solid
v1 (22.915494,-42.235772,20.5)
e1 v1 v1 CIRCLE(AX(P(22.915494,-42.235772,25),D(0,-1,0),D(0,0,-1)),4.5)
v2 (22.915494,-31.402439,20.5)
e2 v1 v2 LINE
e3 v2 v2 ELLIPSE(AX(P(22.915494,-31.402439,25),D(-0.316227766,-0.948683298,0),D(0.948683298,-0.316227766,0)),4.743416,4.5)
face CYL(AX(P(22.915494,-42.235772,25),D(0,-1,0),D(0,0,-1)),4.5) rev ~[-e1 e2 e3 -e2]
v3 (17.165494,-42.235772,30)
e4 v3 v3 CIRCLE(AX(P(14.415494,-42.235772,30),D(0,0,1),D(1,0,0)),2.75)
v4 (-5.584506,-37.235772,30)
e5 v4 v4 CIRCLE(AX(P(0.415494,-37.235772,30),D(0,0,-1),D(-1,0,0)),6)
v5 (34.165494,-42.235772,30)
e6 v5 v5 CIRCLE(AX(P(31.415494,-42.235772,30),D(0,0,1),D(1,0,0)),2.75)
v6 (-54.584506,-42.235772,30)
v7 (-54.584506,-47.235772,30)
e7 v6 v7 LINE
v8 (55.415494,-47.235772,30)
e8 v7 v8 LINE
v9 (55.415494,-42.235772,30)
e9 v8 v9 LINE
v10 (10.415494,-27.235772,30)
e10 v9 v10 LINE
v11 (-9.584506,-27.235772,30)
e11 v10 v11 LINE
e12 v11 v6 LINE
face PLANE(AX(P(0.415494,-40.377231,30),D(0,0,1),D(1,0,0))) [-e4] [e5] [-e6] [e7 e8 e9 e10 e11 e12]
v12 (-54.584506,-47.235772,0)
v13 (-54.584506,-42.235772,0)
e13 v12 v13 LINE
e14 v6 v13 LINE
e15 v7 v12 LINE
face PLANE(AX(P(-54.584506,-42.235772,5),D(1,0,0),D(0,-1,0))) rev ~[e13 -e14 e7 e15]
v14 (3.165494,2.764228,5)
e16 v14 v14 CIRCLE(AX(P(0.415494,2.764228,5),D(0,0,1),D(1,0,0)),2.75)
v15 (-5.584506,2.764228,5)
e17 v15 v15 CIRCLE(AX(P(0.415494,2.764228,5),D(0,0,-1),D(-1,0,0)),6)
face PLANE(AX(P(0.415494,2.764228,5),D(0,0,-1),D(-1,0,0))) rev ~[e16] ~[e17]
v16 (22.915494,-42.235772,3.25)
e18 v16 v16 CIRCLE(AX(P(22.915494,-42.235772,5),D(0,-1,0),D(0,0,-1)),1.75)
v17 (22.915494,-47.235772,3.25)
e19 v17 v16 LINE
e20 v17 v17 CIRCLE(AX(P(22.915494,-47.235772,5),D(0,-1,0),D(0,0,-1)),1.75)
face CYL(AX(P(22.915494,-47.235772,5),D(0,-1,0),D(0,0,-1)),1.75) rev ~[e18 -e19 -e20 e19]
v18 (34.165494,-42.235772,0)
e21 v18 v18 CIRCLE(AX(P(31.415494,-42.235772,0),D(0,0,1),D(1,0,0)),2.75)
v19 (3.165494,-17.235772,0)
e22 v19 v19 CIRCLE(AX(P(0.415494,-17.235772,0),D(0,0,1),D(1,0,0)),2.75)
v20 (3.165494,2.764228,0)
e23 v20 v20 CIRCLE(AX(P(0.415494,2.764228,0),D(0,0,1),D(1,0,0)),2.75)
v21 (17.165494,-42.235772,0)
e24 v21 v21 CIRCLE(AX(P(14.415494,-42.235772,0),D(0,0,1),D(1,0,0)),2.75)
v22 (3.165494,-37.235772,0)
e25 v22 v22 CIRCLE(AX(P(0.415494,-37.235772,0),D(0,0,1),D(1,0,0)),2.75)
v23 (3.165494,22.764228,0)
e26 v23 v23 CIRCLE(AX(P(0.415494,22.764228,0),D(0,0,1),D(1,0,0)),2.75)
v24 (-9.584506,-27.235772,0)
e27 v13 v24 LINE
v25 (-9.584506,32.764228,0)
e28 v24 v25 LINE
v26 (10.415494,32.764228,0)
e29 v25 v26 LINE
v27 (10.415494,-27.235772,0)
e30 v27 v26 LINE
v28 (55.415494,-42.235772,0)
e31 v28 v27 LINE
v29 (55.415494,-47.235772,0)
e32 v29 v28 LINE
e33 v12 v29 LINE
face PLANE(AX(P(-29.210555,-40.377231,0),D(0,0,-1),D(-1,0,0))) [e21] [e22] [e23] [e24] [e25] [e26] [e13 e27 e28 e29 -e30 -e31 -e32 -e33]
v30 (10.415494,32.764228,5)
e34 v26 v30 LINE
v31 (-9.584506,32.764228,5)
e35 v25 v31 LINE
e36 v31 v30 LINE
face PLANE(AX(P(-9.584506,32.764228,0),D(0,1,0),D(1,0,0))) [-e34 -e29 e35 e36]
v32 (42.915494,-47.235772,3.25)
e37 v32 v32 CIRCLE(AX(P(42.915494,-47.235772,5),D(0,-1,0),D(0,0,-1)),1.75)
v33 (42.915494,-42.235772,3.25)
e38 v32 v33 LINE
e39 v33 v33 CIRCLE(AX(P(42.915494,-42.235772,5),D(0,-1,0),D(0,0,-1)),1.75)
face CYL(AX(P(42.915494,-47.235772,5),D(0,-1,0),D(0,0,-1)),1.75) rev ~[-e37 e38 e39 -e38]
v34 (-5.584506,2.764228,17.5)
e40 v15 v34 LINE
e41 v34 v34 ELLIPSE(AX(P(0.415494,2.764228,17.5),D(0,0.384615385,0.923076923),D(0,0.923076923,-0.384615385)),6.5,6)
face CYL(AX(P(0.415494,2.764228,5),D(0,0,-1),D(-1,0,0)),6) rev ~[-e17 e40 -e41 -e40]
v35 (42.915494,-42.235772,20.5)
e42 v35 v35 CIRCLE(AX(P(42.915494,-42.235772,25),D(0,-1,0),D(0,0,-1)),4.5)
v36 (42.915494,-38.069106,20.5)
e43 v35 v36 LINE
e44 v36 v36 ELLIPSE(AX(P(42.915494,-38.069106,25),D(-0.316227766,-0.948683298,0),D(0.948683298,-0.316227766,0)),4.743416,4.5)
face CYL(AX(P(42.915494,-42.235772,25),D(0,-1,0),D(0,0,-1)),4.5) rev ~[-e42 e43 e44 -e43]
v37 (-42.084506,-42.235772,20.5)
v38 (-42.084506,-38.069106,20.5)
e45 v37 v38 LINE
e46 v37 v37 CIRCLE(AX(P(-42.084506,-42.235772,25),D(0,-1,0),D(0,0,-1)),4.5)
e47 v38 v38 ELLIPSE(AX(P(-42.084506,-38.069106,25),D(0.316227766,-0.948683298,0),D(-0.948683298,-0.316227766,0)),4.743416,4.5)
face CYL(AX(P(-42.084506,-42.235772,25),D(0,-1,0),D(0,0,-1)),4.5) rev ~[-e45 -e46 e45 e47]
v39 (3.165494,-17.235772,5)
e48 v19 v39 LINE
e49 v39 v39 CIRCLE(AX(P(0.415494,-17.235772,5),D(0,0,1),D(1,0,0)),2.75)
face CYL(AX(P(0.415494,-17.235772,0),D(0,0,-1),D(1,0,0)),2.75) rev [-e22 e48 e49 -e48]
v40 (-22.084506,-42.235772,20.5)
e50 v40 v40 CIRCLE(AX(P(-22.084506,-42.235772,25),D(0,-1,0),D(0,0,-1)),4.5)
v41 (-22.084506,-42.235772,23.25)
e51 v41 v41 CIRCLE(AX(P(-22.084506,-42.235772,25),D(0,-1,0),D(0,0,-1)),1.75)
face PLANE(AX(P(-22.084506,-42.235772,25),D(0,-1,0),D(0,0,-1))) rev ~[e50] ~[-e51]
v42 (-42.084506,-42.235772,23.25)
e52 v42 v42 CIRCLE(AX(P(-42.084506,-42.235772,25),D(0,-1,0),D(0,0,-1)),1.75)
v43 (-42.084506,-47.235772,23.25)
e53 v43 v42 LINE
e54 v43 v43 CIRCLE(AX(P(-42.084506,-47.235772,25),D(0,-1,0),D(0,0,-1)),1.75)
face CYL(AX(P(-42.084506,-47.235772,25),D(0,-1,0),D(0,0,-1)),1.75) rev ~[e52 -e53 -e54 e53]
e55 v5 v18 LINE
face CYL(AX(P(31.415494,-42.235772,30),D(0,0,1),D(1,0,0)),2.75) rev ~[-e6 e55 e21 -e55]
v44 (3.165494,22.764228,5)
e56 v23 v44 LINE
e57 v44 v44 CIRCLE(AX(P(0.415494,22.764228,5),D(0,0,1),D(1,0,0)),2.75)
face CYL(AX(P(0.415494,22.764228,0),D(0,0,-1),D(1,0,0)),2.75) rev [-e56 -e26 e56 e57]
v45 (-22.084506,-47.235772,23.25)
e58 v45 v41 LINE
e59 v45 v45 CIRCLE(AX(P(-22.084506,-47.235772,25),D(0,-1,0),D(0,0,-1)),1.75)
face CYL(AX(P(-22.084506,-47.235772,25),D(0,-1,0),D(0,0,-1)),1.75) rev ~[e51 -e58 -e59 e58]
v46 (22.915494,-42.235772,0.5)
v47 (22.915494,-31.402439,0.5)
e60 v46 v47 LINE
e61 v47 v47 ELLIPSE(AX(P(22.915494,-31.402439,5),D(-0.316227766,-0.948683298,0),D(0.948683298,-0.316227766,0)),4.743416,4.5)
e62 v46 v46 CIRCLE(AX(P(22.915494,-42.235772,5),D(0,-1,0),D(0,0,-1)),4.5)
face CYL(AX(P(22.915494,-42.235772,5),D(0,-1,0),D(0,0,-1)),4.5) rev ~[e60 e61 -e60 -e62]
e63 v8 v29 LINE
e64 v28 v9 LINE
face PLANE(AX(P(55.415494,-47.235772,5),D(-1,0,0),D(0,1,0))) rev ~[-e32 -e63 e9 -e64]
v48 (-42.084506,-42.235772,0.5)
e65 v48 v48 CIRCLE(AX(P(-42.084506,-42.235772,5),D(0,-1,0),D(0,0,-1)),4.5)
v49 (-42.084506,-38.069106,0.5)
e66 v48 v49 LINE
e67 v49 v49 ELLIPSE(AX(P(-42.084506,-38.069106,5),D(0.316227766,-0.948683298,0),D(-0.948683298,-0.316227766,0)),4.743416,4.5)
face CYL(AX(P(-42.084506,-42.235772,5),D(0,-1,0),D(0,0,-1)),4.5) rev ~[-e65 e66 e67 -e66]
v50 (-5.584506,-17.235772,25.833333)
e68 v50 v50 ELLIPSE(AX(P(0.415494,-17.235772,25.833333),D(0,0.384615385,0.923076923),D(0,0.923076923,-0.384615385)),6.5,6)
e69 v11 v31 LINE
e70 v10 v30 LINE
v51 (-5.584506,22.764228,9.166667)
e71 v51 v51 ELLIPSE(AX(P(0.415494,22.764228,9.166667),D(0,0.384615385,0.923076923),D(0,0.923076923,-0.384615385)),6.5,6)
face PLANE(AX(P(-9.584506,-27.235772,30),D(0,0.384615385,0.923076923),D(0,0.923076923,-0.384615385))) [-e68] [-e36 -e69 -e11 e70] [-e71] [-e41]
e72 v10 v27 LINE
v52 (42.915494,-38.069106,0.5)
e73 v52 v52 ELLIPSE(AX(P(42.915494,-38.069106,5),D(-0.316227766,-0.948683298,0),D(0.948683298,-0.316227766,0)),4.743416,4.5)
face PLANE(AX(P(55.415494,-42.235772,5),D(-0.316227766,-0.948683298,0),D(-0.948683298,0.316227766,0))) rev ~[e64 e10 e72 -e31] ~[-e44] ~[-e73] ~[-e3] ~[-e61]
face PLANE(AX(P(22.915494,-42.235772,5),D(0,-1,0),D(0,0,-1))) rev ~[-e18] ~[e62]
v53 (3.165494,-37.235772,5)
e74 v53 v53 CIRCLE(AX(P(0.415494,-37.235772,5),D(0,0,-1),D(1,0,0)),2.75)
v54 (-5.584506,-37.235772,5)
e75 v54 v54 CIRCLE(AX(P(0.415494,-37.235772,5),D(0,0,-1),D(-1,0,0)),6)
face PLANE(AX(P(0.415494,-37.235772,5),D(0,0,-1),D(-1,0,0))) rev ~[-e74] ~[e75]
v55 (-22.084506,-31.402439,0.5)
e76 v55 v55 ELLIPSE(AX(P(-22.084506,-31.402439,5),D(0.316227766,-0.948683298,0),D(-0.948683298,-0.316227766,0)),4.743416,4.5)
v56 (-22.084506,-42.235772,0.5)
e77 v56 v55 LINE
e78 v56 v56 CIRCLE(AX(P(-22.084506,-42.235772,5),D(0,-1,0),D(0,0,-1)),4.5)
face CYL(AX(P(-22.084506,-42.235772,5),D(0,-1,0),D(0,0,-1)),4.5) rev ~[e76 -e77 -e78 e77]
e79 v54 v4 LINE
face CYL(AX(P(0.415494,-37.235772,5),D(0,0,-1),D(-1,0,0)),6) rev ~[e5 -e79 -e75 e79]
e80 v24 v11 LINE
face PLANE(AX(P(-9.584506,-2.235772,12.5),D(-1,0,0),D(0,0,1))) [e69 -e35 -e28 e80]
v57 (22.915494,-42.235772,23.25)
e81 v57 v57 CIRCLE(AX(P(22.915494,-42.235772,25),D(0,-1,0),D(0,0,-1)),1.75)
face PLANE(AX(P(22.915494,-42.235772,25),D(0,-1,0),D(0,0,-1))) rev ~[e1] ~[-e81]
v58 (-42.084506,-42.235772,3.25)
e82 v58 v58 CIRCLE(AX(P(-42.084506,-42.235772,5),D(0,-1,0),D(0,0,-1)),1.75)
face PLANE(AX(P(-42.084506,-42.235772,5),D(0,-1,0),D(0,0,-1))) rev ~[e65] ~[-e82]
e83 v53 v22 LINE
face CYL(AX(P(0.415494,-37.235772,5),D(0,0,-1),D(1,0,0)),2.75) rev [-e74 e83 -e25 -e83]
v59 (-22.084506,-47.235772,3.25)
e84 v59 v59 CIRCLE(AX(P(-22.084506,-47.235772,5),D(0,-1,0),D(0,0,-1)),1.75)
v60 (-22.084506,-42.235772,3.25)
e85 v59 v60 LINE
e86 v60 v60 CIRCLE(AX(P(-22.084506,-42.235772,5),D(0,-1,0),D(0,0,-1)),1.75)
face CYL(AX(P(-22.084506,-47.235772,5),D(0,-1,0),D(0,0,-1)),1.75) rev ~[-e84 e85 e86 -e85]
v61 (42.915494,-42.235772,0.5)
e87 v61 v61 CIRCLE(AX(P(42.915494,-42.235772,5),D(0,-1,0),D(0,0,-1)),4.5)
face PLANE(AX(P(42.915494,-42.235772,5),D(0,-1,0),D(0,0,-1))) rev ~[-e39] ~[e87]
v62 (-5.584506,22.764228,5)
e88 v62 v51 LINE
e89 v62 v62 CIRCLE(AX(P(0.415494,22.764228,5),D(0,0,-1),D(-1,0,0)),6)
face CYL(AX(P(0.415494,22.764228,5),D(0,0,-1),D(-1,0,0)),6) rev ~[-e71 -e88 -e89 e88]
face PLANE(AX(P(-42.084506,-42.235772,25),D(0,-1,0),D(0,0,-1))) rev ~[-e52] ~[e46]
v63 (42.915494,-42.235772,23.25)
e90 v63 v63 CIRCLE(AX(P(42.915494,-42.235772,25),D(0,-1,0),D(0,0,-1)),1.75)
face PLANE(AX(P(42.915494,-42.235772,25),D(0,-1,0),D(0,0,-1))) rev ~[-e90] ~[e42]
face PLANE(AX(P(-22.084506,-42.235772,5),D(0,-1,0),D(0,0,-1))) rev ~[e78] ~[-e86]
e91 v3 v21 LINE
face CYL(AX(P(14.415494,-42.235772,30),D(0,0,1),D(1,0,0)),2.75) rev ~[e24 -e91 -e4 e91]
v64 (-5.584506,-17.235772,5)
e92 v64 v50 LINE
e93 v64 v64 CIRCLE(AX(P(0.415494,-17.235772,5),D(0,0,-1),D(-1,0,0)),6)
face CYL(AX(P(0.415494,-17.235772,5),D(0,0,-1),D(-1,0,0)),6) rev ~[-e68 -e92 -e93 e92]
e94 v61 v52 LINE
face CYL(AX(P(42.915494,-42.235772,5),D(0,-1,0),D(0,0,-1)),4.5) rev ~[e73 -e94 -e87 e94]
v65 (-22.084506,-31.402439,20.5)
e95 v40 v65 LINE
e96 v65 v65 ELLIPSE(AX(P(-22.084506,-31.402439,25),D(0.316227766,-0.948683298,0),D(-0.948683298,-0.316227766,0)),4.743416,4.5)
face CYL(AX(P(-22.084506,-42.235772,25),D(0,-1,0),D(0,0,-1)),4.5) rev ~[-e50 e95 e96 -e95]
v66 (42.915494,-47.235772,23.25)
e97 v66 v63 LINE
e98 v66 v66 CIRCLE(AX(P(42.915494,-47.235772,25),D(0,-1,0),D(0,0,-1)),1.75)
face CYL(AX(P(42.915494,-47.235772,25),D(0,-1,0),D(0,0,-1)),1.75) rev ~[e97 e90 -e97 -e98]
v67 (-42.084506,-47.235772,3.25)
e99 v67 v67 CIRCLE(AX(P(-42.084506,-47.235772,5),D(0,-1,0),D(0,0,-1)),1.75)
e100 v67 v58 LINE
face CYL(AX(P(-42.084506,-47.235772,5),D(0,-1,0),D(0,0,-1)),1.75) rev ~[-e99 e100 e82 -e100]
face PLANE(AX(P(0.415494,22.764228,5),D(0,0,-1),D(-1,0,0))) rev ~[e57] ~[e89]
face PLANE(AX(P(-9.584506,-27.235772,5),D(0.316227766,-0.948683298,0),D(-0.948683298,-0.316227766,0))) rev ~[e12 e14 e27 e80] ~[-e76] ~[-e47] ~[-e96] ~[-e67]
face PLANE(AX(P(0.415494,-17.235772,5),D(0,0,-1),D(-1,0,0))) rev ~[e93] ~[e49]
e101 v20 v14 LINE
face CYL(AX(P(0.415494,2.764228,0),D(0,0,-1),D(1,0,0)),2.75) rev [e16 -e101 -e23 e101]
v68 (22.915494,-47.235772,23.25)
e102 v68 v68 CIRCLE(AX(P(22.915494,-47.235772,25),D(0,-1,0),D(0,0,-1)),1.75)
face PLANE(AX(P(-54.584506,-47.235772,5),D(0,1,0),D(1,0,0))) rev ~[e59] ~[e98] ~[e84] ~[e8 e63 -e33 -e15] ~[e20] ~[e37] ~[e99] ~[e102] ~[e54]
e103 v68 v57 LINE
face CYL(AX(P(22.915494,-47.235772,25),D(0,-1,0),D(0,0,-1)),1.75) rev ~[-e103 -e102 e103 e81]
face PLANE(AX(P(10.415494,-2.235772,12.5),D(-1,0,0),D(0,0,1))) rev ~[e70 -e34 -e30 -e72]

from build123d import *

# Parameters (mm, degrees)
ESQUISSE1_W             = 20
ESQUISSE1_H             = 80
ESQUISSE1_R             = 2.75
BOSS_EXTRU_1_DEPTH      = 5
BOSS_EXTRU_2_DEPTH      = 5
ESQUISSE4_R             = 2.75
BOSS_EXTRU_3_DEPTH      = 25
BOSS_EXTRU_4_DEPTH      = 20
ENL_V_MAT_EXTRU_1_REACH = 78.988
ESQUISSE6_R             = 6
ENL_V_MAT_EXTRU_2_REACH = 103.838
ESQUISSE7_R             = 1.75
ENL_V_MAT_EXTRU_3_REACH = 99.959
ESQUISSE9_R             = 4.5
ENL_V_MAT_EXTRU_4_REACH = 80.753
ESQUISSE10_R            = 2.75


with BuildPart() as part:
    # Esquisse1 → Boss.-Extru.1 (new body)
    with BuildSketch(Plane.XY):
        with Locations((0.415494059, -7.235772358)):
            Rectangle(ESQUISSE1_W, ESQUISSE1_H)
        with Locations((0.415494059, 22.764227642)):
            Circle(ESQUISSE1_R, mode=Mode.SUBTRACT)
        with Locations((0.415494059, -17.235772358)):
            Circle(ESQUISSE1_R, mode=Mode.SUBTRACT)
        with Locations((0.415494059, 2.764227642)):
            Circle(ESQUISSE1_R, mode=Mode.SUBTRACT)
        with Locations((0.415494059, -37.235772358)):
            Circle(ESQUISSE1_R, mode=Mode.SUBTRACT)
    extrude(amount=BOSS_EXTRU_1_DEPTH)

    # Esquisse3 → Boss.-Extru.2 (add)
    with BuildSketch(Plane.XY.offset(5)):
        Polygon((-9.584505941, -47.235772358), (-54.584505941, -47.235772358), (-54.584505941, -42.235772358), (-9.584505941, -27.235772358), align=None)
        Polygon((10.415494059, -47.235772358), (55.415494059, -47.235772358), (55.415494059, -42.235772358), (10.415494059, -27.235772358), align=None)
    extrude(amount=-BOSS_EXTRU_2_DEPTH)

    # Esquisse4 → Boss.-Extru.3 (add)
    with BuildSketch(Plane.XY.offset(5)):
        Polygon((55.415494059, -47.235772358), (55.415494059, -42.235772358), (10.415494059, -27.235772358), (-9.584505941, -27.235772358), (-54.584505941, -42.235772358), (-54.584505941, -47.235772358), align=None)
        with Locations((0.415494059, -37.235772358)):
            Circle(ESQUISSE4_R, mode=Mode.SUBTRACT)
    extrude(amount=BOSS_EXTRU_3_DEPTH)

    # Esquisse5 → Boss.-Extru.4 (add)
    with BuildSketch(Plane.ZY.offset(9.584505941)):
        Polygon((5, -27.235772358), (30, -27.235772358), (5, 32.764227642), align=None)
    extrude(amount=-BOSS_EXTRU_4_DEPTH)

    # Esquisse6 → Enlèv. mat.-Extru.1 (cut, up to next)
    with BuildSketch(Plane(origin=(0, 0, 5), x_dir=(-1, 0, 0), z_dir=(0, 0, -1)), mode=Mode.PRIVATE) as enl_v_mat_extru_1_sk1:
        with Locations((-0.415494059, 2.764227642)):
            Circle(ESQUISSE6_R)
    enl_v_mat_extru_1_tool1 = extrude(enl_v_mat_extru_1_sk1.sketch, amount=-ENL_V_MAT_EXTRU_1_REACH, mode=Mode.PRIVATE) & part.part
    # Esquisse6 → Enlèv. mat.-Extru.1 (cut, up to next)
    with BuildSketch(Plane(origin=(0, 0, 5), x_dir=(-1, 0, 0), z_dir=(0, 0, -1)), mode=Mode.PRIVATE) as enl_v_mat_extru_1_sk2:
        with Locations((-0.415494059, -17.235772358)):
            Circle(ESQUISSE6_R)
    enl_v_mat_extru_1_tool2 = extrude(enl_v_mat_extru_1_sk2.sketch, amount=-ENL_V_MAT_EXTRU_1_REACH, mode=Mode.PRIVATE) & part.part
    # Esquisse6 → Enlèv. mat.-Extru.1 (cut, up to next)
    with BuildSketch(Plane(origin=(0, 0, 5), x_dir=(-1, 0, 0), z_dir=(0, 0, -1)), mode=Mode.PRIVATE) as enl_v_mat_extru_1_sk3:
        with Locations((-0.415494059, 22.764227642)):
            Circle(ESQUISSE6_R)
    enl_v_mat_extru_1_tool3 = extrude(enl_v_mat_extru_1_sk3.sketch, amount=-ENL_V_MAT_EXTRU_1_REACH, mode=Mode.PRIVATE) & part.part
    # Esquisse6 → Enlèv. mat.-Extru.1 (cut, up to next)
    with BuildSketch(Plane(origin=(0, 0, 5), x_dir=(-1, 0, 0), z_dir=(0, 0, -1)), mode=Mode.PRIVATE) as enl_v_mat_extru_1_sk4:
        with Locations((-0.415494059, -37.235772358)):
            Circle(ESQUISSE6_R)
    enl_v_mat_extru_1_tool4 = extrude(enl_v_mat_extru_1_sk4.sketch, amount=-ENL_V_MAT_EXTRU_1_REACH, mode=Mode.PRIVATE) & part.part
    add(enl_v_mat_extru_1_tool1.solids().sort_by_distance((0.415494, 2.764228, 5))[0], mode=Mode.SUBTRACT)
    add(enl_v_mat_extru_1_tool2.solids().sort_by_distance((0.415494, -17.235772, 5))[0], mode=Mode.SUBTRACT)
    add(enl_v_mat_extru_1_tool3.solids().sort_by_distance((0.415494, 22.764228, 5))[0], mode=Mode.SUBTRACT)
    add(enl_v_mat_extru_1_tool4.solids().sort_by_distance((0.415494, -37.235772, 5))[0], mode=Mode.SUBTRACT)

    # Esquisse7 → Enlèv. mat.-Extru.2 (cut, up to next)
    with BuildSketch(Plane.XZ.offset(47.235772358), mode=Mode.PRIVATE) as enl_v_mat_extru_2_sk1:
        with Locations(Location((-42.084505941, 25, 0), (0, 0, 270))):
            Circle(ESQUISSE7_R)
    enl_v_mat_extru_2_tool1 = extrude(enl_v_mat_extru_2_sk1.sketch, amount=-ENL_V_MAT_EXTRU_2_REACH, mode=Mode.PRIVATE) & part.part
    # Esquisse7 → Enlèv. mat.-Extru.2 (cut, up to next)
    with BuildSketch(Plane.XZ.offset(47.235772358), mode=Mode.PRIVATE) as enl_v_mat_extru_2_sk2:
        with Locations(Location((-22.084505941, 25, 0), (0, 0, 270))):
            Circle(ESQUISSE7_R)
    enl_v_mat_extru_2_tool2 = extrude(enl_v_mat_extru_2_sk2.sketch, amount=-ENL_V_MAT_EXTRU_2_REACH, mode=Mode.PRIVATE) & part.part
    # Esquisse7 → Enlèv. mat.-Extru.2 (cut, up to next)
    with BuildSketch(Plane.XZ.offset(47.235772358), mode=Mode.PRIVATE) as enl_v_mat_extru_2_sk3:
        with Locations(Location((-22.084505941, 5, 0), (0, 0, 270))):
            Circle(ESQUISSE7_R)
    enl_v_mat_extru_2_tool3 = extrude(enl_v_mat_extru_2_sk3.sketch, amount=-ENL_V_MAT_EXTRU_2_REACH, mode=Mode.PRIVATE) & part.part
    # Esquisse7 → Enlèv. mat.-Extru.2 (cut, up to next)
    with BuildSketch(Plane.XZ.offset(47.235772358), mode=Mode.PRIVATE) as enl_v_mat_extru_2_sk4:
        with Locations(Location((-42.084505941, 5, 0), (0, 0, 270))):
            Circle(ESQUISSE7_R)
    enl_v_mat_extru_2_tool4 = extrude(enl_v_mat_extru_2_sk4.sketch, amount=-ENL_V_MAT_EXTRU_2_REACH, mode=Mode.PRIVATE) & part.part
    # Esquisse7 → Enlèv. mat.-Extru.2 (cut, up to next)
    with BuildSketch(Plane.XZ.offset(47.235772358), mode=Mode.PRIVATE) as enl_v_mat_extru_2_sk5:
        with Locations(Location((42.915494059, 25, 0), (0, 0, 270))):
            Circle(ESQUISSE7_R)
    enl_v_mat_extru_2_tool5 = extrude(enl_v_mat_extru_2_sk5.sketch, amount=-ENL_V_MAT_EXTRU_2_REACH, mode=Mode.PRIVATE) & part.part
    # Esquisse7 → Enlèv. mat.-Extru.2 (cut, up to next)
    with BuildSketch(Plane.XZ.offset(47.235772358), mode=Mode.PRIVATE) as enl_v_mat_extru_2_sk6:
        with Locations(Location((42.915494059, 5, 0), (0, 0, 270))):
            Circle(ESQUISSE7_R)
    enl_v_mat_extru_2_tool6 = extrude(enl_v_mat_extru_2_sk6.sketch, amount=-ENL_V_MAT_EXTRU_2_REACH, mode=Mode.PRIVATE) & part.part
    # Esquisse7 → Enlèv. mat.-Extru.2 (cut, up to next)
    with BuildSketch(Plane.XZ.offset(47.235772358), mode=Mode.PRIVATE) as enl_v_mat_extru_2_sk7:
        with Locations(Location((22.915494059, 5, 0), (0, 0, 270))):
            Circle(ESQUISSE7_R)
    enl_v_mat_extru_2_tool7 = extrude(enl_v_mat_extru_2_sk7.sketch, amount=-ENL_V_MAT_EXTRU_2_REACH, mode=Mode.PRIVATE) & part.part
    # Esquisse7 → Enlèv. mat.-Extru.2 (cut, up to next)
    with BuildSketch(Plane.XZ.offset(47.235772358), mode=Mode.PRIVATE) as enl_v_mat_extru_2_sk8:
        with Locations(Location((22.915494059, 25, 0), (0, 0, 270))):
            Circle(ESQUISSE7_R)
    enl_v_mat_extru_2_tool8 = extrude(enl_v_mat_extru_2_sk8.sketch, amount=-ENL_V_MAT_EXTRU_2_REACH, mode=Mode.PRIVATE) & part.part
    add(enl_v_mat_extru_2_tool1.solids().sort_by_distance((-42.084506, -47.235772, 25))[0], mode=Mode.SUBTRACT)
    add(enl_v_mat_extru_2_tool2.solids().sort_by_distance((-22.084506, -47.235772, 25))[0], mode=Mode.SUBTRACT)
    add(enl_v_mat_extru_2_tool3.solids().sort_by_distance((-22.084506, -47.235772, 5))[0], mode=Mode.SUBTRACT)
    add(enl_v_mat_extru_2_tool4.solids().sort_by_distance((-42.084506, -47.235772, 5))[0], mode=Mode.SUBTRACT)
    add(enl_v_mat_extru_2_tool5.solids().sort_by_distance((42.915494, -47.235772, 25))[0], mode=Mode.SUBTRACT)
    add(enl_v_mat_extru_2_tool6.solids().sort_by_distance((42.915494, -47.235772, 5))[0], mode=Mode.SUBTRACT)
    add(enl_v_mat_extru_2_tool7.solids().sort_by_distance((22.915494, -47.235772, 5))[0], mode=Mode.SUBTRACT)
    add(enl_v_mat_extru_2_tool8.solids().sort_by_distance((22.915494, -47.235772, 25))[0], mode=Mode.SUBTRACT)

    # Esquisse9 → Enlèv. mat.-Extru.3 (cut, up to next)
    with BuildSketch(Plane(origin=(0, -42.235772358, 0), x_dir=(-1, 0, 0), z_dir=(0, -1, 0)), mode=Mode.PRIVATE) as enl_v_mat_extru_3_sk1:
        with Locations(Location((42.084505941, -25, 0), (0, 0, 90))):
            Circle(ESQUISSE9_R)
    enl_v_mat_extru_3_tool1 = extrude(enl_v_mat_extru_3_sk1.sketch, amount=-ENL_V_MAT_EXTRU_3_REACH, mode=Mode.PRIVATE) & part.part
    # Esquisse9 → Enlèv. mat.-Extru.3 (cut, up to next)
    with BuildSketch(Plane(origin=(0, -42.235772358, 0), x_dir=(-1, 0, 0), z_dir=(0, -1, 0)), mode=Mode.PRIVATE) as enl_v_mat_extru_3_sk2:
        with Locations(Location((22.084505941, -25, 0), (0, 0, 90))):
            Circle(ESQUISSE9_R)
    enl_v_mat_extru_3_tool2 = extrude(enl_v_mat_extru_3_sk2.sketch, amount=-ENL_V_MAT_EXTRU_3_REACH, mode=Mode.PRIVATE) & part.part
    # Esquisse9 → Enlèv. mat.-Extru.3 (cut, up to next)
    with BuildSketch(Plane(origin=(0, -42.235772358, 0), x_dir=(-1, 0, 0), z_dir=(0, -1, 0)), mode=Mode.PRIVATE) as enl_v_mat_extru_3_sk3:
        with Locations(Location((22.084505941, -5, 0), (0, 0, 90))):
            Circle(ESQUISSE9_R)
    enl_v_mat_extru_3_tool3 = extrude(enl_v_mat_extru_3_sk3.sketch, amount=-ENL_V_MAT_EXTRU_3_REACH, mode=Mode.PRIVATE) & part.part
    # Esquisse9 → Enlèv. mat.-Extru.3 (cut, up to next)
    with BuildSketch(Plane(origin=(0, -42.235772358, 0), x_dir=(-1, 0, 0), z_dir=(0, -1, 0)), mode=Mode.PRIVATE) as enl_v_mat_extru_3_sk4:
        with Locations(Location((42.084505941, -5, 0), (0, 0, 90))):
            Circle(ESQUISSE9_R)
    enl_v_mat_extru_3_tool4 = extrude(enl_v_mat_extru_3_sk4.sketch, amount=-ENL_V_MAT_EXTRU_3_REACH, mode=Mode.PRIVATE) & part.part
    # Esquisse9 → Enlèv. mat.-Extru.3 (cut, up to next)
    with BuildSketch(Plane(origin=(0, -42.235772358, 0), x_dir=(-1, 0, 0), z_dir=(0, -1, 0)), mode=Mode.PRIVATE) as enl_v_mat_extru_3_sk5:
        with Locations(Location((-22.915494059, -25, 0), (0, 0, 90))):
            Circle(ESQUISSE9_R)
    enl_v_mat_extru_3_tool5 = extrude(enl_v_mat_extru_3_sk5.sketch, amount=-ENL_V_MAT_EXTRU_3_REACH, mode=Mode.PRIVATE) & part.part
    # Esquisse9 → Enlèv. mat.-Extru.3 (cut, up to next)
    with BuildSketch(Plane(origin=(0, -42.235772358, 0), x_dir=(-1, 0, 0), z_dir=(0, -1, 0)), mode=Mode.PRIVATE) as enl_v_mat_extru_3_sk6:
        with Locations(Location((-42.915494059, -25, 0), (0, 0, 90))):
            Circle(ESQUISSE9_R)
    enl_v_mat_extru_3_tool6 = extrude(enl_v_mat_extru_3_sk6.sketch, amount=-ENL_V_MAT_EXTRU_3_REACH, mode=Mode.PRIVATE) & part.part
    # Esquisse9 → Enlèv. mat.-Extru.3 (cut, up to next)
    with BuildSketch(Plane(origin=(0, -42.235772358, 0), x_dir=(-1, 0, 0), z_dir=(0, -1, 0)), mode=Mode.PRIVATE) as enl_v_mat_extru_3_sk7:
        with Locations(Location((-42.915494059, -5, 0), (0, 0, 90))):
            Circle(ESQUISSE9_R)
    enl_v_mat_extru_3_tool7 = extrude(enl_v_mat_extru_3_sk7.sketch, amount=-ENL_V_MAT_EXTRU_3_REACH, mode=Mode.PRIVATE) & part.part
    # Esquisse9 → Enlèv. mat.-Extru.3 (cut, up to next)
    with BuildSketch(Plane(origin=(0, -42.235772358, 0), x_dir=(-1, 0, 0), z_dir=(0, -1, 0)), mode=Mode.PRIVATE) as enl_v_mat_extru_3_sk8:
        with Locations(Location((-22.915494059, -5, 0), (0, 0, 90))):
            Circle(ESQUISSE9_R)
    enl_v_mat_extru_3_tool8 = extrude(enl_v_mat_extru_3_sk8.sketch, amount=-ENL_V_MAT_EXTRU_3_REACH, mode=Mode.PRIVATE) & part.part
    add(enl_v_mat_extru_3_tool1.solids().sort_by_distance((-42.084506, -42.235772, 25))[0], mode=Mode.SUBTRACT)
    add(enl_v_mat_extru_3_tool2.solids().sort_by_distance((-22.084506, -42.235772, 25))[0], mode=Mode.SUBTRACT)
    add(enl_v_mat_extru_3_tool3.solids().sort_by_distance((-22.084506, -42.235772, 5))[0], mode=Mode.SUBTRACT)
    add(enl_v_mat_extru_3_tool4.solids().sort_by_distance((-42.084506, -42.235772, 5))[0], mode=Mode.SUBTRACT)
    add(enl_v_mat_extru_3_tool5.solids().sort_by_distance((22.915494, -42.235772, 25))[0], mode=Mode.SUBTRACT)
    add(enl_v_mat_extru_3_tool6.solids().sort_by_distance((42.915494, -42.235772, 25))[0], mode=Mode.SUBTRACT)
    add(enl_v_mat_extru_3_tool7.solids().sort_by_distance((42.915494, -42.235772, 5))[0], mode=Mode.SUBTRACT)
    add(enl_v_mat_extru_3_tool8.solids().sort_by_distance((22.915494, -42.235772, 5))[0], mode=Mode.SUBTRACT)

    # Esquisse10 → Enlèv. mat.-Extru.4 (cut, up to next)
    with BuildSketch(Plane.XY.offset(30), mode=Mode.PRIVATE) as enl_v_mat_extru_4_sk1:
        with Locations((14.415494059, -42.235772358)):
            Circle(ESQUISSE10_R)
    enl_v_mat_extru_4_tool1 = extrude(enl_v_mat_extru_4_sk1.sketch, amount=-ENL_V_MAT_EXTRU_4_REACH, mode=Mode.PRIVATE) & part.part
    # Esquisse10 → Enlèv. mat.-Extru.4 (cut, up to next)
    with BuildSketch(Plane.XY.offset(30), mode=Mode.PRIVATE) as enl_v_mat_extru_4_sk2:
        with Locations((31.415494059, -42.235772358)):
            Circle(ESQUISSE10_R)
    enl_v_mat_extru_4_tool2 = extrude(enl_v_mat_extru_4_sk2.sketch, amount=-ENL_V_MAT_EXTRU_4_REACH, mode=Mode.PRIVATE) & part.part
    add(enl_v_mat_extru_4_tool1.solids().sort_by_distance((14.415494, -42.235772, 30))[0], mode=Mode.SUBTRACT)
    add(enl_v_mat_extru_4_tool2.solids().sort_by_distance((31.415494, -42.235772, 30))[0], mode=Mode.SUBTRACT)


solid = part.part
